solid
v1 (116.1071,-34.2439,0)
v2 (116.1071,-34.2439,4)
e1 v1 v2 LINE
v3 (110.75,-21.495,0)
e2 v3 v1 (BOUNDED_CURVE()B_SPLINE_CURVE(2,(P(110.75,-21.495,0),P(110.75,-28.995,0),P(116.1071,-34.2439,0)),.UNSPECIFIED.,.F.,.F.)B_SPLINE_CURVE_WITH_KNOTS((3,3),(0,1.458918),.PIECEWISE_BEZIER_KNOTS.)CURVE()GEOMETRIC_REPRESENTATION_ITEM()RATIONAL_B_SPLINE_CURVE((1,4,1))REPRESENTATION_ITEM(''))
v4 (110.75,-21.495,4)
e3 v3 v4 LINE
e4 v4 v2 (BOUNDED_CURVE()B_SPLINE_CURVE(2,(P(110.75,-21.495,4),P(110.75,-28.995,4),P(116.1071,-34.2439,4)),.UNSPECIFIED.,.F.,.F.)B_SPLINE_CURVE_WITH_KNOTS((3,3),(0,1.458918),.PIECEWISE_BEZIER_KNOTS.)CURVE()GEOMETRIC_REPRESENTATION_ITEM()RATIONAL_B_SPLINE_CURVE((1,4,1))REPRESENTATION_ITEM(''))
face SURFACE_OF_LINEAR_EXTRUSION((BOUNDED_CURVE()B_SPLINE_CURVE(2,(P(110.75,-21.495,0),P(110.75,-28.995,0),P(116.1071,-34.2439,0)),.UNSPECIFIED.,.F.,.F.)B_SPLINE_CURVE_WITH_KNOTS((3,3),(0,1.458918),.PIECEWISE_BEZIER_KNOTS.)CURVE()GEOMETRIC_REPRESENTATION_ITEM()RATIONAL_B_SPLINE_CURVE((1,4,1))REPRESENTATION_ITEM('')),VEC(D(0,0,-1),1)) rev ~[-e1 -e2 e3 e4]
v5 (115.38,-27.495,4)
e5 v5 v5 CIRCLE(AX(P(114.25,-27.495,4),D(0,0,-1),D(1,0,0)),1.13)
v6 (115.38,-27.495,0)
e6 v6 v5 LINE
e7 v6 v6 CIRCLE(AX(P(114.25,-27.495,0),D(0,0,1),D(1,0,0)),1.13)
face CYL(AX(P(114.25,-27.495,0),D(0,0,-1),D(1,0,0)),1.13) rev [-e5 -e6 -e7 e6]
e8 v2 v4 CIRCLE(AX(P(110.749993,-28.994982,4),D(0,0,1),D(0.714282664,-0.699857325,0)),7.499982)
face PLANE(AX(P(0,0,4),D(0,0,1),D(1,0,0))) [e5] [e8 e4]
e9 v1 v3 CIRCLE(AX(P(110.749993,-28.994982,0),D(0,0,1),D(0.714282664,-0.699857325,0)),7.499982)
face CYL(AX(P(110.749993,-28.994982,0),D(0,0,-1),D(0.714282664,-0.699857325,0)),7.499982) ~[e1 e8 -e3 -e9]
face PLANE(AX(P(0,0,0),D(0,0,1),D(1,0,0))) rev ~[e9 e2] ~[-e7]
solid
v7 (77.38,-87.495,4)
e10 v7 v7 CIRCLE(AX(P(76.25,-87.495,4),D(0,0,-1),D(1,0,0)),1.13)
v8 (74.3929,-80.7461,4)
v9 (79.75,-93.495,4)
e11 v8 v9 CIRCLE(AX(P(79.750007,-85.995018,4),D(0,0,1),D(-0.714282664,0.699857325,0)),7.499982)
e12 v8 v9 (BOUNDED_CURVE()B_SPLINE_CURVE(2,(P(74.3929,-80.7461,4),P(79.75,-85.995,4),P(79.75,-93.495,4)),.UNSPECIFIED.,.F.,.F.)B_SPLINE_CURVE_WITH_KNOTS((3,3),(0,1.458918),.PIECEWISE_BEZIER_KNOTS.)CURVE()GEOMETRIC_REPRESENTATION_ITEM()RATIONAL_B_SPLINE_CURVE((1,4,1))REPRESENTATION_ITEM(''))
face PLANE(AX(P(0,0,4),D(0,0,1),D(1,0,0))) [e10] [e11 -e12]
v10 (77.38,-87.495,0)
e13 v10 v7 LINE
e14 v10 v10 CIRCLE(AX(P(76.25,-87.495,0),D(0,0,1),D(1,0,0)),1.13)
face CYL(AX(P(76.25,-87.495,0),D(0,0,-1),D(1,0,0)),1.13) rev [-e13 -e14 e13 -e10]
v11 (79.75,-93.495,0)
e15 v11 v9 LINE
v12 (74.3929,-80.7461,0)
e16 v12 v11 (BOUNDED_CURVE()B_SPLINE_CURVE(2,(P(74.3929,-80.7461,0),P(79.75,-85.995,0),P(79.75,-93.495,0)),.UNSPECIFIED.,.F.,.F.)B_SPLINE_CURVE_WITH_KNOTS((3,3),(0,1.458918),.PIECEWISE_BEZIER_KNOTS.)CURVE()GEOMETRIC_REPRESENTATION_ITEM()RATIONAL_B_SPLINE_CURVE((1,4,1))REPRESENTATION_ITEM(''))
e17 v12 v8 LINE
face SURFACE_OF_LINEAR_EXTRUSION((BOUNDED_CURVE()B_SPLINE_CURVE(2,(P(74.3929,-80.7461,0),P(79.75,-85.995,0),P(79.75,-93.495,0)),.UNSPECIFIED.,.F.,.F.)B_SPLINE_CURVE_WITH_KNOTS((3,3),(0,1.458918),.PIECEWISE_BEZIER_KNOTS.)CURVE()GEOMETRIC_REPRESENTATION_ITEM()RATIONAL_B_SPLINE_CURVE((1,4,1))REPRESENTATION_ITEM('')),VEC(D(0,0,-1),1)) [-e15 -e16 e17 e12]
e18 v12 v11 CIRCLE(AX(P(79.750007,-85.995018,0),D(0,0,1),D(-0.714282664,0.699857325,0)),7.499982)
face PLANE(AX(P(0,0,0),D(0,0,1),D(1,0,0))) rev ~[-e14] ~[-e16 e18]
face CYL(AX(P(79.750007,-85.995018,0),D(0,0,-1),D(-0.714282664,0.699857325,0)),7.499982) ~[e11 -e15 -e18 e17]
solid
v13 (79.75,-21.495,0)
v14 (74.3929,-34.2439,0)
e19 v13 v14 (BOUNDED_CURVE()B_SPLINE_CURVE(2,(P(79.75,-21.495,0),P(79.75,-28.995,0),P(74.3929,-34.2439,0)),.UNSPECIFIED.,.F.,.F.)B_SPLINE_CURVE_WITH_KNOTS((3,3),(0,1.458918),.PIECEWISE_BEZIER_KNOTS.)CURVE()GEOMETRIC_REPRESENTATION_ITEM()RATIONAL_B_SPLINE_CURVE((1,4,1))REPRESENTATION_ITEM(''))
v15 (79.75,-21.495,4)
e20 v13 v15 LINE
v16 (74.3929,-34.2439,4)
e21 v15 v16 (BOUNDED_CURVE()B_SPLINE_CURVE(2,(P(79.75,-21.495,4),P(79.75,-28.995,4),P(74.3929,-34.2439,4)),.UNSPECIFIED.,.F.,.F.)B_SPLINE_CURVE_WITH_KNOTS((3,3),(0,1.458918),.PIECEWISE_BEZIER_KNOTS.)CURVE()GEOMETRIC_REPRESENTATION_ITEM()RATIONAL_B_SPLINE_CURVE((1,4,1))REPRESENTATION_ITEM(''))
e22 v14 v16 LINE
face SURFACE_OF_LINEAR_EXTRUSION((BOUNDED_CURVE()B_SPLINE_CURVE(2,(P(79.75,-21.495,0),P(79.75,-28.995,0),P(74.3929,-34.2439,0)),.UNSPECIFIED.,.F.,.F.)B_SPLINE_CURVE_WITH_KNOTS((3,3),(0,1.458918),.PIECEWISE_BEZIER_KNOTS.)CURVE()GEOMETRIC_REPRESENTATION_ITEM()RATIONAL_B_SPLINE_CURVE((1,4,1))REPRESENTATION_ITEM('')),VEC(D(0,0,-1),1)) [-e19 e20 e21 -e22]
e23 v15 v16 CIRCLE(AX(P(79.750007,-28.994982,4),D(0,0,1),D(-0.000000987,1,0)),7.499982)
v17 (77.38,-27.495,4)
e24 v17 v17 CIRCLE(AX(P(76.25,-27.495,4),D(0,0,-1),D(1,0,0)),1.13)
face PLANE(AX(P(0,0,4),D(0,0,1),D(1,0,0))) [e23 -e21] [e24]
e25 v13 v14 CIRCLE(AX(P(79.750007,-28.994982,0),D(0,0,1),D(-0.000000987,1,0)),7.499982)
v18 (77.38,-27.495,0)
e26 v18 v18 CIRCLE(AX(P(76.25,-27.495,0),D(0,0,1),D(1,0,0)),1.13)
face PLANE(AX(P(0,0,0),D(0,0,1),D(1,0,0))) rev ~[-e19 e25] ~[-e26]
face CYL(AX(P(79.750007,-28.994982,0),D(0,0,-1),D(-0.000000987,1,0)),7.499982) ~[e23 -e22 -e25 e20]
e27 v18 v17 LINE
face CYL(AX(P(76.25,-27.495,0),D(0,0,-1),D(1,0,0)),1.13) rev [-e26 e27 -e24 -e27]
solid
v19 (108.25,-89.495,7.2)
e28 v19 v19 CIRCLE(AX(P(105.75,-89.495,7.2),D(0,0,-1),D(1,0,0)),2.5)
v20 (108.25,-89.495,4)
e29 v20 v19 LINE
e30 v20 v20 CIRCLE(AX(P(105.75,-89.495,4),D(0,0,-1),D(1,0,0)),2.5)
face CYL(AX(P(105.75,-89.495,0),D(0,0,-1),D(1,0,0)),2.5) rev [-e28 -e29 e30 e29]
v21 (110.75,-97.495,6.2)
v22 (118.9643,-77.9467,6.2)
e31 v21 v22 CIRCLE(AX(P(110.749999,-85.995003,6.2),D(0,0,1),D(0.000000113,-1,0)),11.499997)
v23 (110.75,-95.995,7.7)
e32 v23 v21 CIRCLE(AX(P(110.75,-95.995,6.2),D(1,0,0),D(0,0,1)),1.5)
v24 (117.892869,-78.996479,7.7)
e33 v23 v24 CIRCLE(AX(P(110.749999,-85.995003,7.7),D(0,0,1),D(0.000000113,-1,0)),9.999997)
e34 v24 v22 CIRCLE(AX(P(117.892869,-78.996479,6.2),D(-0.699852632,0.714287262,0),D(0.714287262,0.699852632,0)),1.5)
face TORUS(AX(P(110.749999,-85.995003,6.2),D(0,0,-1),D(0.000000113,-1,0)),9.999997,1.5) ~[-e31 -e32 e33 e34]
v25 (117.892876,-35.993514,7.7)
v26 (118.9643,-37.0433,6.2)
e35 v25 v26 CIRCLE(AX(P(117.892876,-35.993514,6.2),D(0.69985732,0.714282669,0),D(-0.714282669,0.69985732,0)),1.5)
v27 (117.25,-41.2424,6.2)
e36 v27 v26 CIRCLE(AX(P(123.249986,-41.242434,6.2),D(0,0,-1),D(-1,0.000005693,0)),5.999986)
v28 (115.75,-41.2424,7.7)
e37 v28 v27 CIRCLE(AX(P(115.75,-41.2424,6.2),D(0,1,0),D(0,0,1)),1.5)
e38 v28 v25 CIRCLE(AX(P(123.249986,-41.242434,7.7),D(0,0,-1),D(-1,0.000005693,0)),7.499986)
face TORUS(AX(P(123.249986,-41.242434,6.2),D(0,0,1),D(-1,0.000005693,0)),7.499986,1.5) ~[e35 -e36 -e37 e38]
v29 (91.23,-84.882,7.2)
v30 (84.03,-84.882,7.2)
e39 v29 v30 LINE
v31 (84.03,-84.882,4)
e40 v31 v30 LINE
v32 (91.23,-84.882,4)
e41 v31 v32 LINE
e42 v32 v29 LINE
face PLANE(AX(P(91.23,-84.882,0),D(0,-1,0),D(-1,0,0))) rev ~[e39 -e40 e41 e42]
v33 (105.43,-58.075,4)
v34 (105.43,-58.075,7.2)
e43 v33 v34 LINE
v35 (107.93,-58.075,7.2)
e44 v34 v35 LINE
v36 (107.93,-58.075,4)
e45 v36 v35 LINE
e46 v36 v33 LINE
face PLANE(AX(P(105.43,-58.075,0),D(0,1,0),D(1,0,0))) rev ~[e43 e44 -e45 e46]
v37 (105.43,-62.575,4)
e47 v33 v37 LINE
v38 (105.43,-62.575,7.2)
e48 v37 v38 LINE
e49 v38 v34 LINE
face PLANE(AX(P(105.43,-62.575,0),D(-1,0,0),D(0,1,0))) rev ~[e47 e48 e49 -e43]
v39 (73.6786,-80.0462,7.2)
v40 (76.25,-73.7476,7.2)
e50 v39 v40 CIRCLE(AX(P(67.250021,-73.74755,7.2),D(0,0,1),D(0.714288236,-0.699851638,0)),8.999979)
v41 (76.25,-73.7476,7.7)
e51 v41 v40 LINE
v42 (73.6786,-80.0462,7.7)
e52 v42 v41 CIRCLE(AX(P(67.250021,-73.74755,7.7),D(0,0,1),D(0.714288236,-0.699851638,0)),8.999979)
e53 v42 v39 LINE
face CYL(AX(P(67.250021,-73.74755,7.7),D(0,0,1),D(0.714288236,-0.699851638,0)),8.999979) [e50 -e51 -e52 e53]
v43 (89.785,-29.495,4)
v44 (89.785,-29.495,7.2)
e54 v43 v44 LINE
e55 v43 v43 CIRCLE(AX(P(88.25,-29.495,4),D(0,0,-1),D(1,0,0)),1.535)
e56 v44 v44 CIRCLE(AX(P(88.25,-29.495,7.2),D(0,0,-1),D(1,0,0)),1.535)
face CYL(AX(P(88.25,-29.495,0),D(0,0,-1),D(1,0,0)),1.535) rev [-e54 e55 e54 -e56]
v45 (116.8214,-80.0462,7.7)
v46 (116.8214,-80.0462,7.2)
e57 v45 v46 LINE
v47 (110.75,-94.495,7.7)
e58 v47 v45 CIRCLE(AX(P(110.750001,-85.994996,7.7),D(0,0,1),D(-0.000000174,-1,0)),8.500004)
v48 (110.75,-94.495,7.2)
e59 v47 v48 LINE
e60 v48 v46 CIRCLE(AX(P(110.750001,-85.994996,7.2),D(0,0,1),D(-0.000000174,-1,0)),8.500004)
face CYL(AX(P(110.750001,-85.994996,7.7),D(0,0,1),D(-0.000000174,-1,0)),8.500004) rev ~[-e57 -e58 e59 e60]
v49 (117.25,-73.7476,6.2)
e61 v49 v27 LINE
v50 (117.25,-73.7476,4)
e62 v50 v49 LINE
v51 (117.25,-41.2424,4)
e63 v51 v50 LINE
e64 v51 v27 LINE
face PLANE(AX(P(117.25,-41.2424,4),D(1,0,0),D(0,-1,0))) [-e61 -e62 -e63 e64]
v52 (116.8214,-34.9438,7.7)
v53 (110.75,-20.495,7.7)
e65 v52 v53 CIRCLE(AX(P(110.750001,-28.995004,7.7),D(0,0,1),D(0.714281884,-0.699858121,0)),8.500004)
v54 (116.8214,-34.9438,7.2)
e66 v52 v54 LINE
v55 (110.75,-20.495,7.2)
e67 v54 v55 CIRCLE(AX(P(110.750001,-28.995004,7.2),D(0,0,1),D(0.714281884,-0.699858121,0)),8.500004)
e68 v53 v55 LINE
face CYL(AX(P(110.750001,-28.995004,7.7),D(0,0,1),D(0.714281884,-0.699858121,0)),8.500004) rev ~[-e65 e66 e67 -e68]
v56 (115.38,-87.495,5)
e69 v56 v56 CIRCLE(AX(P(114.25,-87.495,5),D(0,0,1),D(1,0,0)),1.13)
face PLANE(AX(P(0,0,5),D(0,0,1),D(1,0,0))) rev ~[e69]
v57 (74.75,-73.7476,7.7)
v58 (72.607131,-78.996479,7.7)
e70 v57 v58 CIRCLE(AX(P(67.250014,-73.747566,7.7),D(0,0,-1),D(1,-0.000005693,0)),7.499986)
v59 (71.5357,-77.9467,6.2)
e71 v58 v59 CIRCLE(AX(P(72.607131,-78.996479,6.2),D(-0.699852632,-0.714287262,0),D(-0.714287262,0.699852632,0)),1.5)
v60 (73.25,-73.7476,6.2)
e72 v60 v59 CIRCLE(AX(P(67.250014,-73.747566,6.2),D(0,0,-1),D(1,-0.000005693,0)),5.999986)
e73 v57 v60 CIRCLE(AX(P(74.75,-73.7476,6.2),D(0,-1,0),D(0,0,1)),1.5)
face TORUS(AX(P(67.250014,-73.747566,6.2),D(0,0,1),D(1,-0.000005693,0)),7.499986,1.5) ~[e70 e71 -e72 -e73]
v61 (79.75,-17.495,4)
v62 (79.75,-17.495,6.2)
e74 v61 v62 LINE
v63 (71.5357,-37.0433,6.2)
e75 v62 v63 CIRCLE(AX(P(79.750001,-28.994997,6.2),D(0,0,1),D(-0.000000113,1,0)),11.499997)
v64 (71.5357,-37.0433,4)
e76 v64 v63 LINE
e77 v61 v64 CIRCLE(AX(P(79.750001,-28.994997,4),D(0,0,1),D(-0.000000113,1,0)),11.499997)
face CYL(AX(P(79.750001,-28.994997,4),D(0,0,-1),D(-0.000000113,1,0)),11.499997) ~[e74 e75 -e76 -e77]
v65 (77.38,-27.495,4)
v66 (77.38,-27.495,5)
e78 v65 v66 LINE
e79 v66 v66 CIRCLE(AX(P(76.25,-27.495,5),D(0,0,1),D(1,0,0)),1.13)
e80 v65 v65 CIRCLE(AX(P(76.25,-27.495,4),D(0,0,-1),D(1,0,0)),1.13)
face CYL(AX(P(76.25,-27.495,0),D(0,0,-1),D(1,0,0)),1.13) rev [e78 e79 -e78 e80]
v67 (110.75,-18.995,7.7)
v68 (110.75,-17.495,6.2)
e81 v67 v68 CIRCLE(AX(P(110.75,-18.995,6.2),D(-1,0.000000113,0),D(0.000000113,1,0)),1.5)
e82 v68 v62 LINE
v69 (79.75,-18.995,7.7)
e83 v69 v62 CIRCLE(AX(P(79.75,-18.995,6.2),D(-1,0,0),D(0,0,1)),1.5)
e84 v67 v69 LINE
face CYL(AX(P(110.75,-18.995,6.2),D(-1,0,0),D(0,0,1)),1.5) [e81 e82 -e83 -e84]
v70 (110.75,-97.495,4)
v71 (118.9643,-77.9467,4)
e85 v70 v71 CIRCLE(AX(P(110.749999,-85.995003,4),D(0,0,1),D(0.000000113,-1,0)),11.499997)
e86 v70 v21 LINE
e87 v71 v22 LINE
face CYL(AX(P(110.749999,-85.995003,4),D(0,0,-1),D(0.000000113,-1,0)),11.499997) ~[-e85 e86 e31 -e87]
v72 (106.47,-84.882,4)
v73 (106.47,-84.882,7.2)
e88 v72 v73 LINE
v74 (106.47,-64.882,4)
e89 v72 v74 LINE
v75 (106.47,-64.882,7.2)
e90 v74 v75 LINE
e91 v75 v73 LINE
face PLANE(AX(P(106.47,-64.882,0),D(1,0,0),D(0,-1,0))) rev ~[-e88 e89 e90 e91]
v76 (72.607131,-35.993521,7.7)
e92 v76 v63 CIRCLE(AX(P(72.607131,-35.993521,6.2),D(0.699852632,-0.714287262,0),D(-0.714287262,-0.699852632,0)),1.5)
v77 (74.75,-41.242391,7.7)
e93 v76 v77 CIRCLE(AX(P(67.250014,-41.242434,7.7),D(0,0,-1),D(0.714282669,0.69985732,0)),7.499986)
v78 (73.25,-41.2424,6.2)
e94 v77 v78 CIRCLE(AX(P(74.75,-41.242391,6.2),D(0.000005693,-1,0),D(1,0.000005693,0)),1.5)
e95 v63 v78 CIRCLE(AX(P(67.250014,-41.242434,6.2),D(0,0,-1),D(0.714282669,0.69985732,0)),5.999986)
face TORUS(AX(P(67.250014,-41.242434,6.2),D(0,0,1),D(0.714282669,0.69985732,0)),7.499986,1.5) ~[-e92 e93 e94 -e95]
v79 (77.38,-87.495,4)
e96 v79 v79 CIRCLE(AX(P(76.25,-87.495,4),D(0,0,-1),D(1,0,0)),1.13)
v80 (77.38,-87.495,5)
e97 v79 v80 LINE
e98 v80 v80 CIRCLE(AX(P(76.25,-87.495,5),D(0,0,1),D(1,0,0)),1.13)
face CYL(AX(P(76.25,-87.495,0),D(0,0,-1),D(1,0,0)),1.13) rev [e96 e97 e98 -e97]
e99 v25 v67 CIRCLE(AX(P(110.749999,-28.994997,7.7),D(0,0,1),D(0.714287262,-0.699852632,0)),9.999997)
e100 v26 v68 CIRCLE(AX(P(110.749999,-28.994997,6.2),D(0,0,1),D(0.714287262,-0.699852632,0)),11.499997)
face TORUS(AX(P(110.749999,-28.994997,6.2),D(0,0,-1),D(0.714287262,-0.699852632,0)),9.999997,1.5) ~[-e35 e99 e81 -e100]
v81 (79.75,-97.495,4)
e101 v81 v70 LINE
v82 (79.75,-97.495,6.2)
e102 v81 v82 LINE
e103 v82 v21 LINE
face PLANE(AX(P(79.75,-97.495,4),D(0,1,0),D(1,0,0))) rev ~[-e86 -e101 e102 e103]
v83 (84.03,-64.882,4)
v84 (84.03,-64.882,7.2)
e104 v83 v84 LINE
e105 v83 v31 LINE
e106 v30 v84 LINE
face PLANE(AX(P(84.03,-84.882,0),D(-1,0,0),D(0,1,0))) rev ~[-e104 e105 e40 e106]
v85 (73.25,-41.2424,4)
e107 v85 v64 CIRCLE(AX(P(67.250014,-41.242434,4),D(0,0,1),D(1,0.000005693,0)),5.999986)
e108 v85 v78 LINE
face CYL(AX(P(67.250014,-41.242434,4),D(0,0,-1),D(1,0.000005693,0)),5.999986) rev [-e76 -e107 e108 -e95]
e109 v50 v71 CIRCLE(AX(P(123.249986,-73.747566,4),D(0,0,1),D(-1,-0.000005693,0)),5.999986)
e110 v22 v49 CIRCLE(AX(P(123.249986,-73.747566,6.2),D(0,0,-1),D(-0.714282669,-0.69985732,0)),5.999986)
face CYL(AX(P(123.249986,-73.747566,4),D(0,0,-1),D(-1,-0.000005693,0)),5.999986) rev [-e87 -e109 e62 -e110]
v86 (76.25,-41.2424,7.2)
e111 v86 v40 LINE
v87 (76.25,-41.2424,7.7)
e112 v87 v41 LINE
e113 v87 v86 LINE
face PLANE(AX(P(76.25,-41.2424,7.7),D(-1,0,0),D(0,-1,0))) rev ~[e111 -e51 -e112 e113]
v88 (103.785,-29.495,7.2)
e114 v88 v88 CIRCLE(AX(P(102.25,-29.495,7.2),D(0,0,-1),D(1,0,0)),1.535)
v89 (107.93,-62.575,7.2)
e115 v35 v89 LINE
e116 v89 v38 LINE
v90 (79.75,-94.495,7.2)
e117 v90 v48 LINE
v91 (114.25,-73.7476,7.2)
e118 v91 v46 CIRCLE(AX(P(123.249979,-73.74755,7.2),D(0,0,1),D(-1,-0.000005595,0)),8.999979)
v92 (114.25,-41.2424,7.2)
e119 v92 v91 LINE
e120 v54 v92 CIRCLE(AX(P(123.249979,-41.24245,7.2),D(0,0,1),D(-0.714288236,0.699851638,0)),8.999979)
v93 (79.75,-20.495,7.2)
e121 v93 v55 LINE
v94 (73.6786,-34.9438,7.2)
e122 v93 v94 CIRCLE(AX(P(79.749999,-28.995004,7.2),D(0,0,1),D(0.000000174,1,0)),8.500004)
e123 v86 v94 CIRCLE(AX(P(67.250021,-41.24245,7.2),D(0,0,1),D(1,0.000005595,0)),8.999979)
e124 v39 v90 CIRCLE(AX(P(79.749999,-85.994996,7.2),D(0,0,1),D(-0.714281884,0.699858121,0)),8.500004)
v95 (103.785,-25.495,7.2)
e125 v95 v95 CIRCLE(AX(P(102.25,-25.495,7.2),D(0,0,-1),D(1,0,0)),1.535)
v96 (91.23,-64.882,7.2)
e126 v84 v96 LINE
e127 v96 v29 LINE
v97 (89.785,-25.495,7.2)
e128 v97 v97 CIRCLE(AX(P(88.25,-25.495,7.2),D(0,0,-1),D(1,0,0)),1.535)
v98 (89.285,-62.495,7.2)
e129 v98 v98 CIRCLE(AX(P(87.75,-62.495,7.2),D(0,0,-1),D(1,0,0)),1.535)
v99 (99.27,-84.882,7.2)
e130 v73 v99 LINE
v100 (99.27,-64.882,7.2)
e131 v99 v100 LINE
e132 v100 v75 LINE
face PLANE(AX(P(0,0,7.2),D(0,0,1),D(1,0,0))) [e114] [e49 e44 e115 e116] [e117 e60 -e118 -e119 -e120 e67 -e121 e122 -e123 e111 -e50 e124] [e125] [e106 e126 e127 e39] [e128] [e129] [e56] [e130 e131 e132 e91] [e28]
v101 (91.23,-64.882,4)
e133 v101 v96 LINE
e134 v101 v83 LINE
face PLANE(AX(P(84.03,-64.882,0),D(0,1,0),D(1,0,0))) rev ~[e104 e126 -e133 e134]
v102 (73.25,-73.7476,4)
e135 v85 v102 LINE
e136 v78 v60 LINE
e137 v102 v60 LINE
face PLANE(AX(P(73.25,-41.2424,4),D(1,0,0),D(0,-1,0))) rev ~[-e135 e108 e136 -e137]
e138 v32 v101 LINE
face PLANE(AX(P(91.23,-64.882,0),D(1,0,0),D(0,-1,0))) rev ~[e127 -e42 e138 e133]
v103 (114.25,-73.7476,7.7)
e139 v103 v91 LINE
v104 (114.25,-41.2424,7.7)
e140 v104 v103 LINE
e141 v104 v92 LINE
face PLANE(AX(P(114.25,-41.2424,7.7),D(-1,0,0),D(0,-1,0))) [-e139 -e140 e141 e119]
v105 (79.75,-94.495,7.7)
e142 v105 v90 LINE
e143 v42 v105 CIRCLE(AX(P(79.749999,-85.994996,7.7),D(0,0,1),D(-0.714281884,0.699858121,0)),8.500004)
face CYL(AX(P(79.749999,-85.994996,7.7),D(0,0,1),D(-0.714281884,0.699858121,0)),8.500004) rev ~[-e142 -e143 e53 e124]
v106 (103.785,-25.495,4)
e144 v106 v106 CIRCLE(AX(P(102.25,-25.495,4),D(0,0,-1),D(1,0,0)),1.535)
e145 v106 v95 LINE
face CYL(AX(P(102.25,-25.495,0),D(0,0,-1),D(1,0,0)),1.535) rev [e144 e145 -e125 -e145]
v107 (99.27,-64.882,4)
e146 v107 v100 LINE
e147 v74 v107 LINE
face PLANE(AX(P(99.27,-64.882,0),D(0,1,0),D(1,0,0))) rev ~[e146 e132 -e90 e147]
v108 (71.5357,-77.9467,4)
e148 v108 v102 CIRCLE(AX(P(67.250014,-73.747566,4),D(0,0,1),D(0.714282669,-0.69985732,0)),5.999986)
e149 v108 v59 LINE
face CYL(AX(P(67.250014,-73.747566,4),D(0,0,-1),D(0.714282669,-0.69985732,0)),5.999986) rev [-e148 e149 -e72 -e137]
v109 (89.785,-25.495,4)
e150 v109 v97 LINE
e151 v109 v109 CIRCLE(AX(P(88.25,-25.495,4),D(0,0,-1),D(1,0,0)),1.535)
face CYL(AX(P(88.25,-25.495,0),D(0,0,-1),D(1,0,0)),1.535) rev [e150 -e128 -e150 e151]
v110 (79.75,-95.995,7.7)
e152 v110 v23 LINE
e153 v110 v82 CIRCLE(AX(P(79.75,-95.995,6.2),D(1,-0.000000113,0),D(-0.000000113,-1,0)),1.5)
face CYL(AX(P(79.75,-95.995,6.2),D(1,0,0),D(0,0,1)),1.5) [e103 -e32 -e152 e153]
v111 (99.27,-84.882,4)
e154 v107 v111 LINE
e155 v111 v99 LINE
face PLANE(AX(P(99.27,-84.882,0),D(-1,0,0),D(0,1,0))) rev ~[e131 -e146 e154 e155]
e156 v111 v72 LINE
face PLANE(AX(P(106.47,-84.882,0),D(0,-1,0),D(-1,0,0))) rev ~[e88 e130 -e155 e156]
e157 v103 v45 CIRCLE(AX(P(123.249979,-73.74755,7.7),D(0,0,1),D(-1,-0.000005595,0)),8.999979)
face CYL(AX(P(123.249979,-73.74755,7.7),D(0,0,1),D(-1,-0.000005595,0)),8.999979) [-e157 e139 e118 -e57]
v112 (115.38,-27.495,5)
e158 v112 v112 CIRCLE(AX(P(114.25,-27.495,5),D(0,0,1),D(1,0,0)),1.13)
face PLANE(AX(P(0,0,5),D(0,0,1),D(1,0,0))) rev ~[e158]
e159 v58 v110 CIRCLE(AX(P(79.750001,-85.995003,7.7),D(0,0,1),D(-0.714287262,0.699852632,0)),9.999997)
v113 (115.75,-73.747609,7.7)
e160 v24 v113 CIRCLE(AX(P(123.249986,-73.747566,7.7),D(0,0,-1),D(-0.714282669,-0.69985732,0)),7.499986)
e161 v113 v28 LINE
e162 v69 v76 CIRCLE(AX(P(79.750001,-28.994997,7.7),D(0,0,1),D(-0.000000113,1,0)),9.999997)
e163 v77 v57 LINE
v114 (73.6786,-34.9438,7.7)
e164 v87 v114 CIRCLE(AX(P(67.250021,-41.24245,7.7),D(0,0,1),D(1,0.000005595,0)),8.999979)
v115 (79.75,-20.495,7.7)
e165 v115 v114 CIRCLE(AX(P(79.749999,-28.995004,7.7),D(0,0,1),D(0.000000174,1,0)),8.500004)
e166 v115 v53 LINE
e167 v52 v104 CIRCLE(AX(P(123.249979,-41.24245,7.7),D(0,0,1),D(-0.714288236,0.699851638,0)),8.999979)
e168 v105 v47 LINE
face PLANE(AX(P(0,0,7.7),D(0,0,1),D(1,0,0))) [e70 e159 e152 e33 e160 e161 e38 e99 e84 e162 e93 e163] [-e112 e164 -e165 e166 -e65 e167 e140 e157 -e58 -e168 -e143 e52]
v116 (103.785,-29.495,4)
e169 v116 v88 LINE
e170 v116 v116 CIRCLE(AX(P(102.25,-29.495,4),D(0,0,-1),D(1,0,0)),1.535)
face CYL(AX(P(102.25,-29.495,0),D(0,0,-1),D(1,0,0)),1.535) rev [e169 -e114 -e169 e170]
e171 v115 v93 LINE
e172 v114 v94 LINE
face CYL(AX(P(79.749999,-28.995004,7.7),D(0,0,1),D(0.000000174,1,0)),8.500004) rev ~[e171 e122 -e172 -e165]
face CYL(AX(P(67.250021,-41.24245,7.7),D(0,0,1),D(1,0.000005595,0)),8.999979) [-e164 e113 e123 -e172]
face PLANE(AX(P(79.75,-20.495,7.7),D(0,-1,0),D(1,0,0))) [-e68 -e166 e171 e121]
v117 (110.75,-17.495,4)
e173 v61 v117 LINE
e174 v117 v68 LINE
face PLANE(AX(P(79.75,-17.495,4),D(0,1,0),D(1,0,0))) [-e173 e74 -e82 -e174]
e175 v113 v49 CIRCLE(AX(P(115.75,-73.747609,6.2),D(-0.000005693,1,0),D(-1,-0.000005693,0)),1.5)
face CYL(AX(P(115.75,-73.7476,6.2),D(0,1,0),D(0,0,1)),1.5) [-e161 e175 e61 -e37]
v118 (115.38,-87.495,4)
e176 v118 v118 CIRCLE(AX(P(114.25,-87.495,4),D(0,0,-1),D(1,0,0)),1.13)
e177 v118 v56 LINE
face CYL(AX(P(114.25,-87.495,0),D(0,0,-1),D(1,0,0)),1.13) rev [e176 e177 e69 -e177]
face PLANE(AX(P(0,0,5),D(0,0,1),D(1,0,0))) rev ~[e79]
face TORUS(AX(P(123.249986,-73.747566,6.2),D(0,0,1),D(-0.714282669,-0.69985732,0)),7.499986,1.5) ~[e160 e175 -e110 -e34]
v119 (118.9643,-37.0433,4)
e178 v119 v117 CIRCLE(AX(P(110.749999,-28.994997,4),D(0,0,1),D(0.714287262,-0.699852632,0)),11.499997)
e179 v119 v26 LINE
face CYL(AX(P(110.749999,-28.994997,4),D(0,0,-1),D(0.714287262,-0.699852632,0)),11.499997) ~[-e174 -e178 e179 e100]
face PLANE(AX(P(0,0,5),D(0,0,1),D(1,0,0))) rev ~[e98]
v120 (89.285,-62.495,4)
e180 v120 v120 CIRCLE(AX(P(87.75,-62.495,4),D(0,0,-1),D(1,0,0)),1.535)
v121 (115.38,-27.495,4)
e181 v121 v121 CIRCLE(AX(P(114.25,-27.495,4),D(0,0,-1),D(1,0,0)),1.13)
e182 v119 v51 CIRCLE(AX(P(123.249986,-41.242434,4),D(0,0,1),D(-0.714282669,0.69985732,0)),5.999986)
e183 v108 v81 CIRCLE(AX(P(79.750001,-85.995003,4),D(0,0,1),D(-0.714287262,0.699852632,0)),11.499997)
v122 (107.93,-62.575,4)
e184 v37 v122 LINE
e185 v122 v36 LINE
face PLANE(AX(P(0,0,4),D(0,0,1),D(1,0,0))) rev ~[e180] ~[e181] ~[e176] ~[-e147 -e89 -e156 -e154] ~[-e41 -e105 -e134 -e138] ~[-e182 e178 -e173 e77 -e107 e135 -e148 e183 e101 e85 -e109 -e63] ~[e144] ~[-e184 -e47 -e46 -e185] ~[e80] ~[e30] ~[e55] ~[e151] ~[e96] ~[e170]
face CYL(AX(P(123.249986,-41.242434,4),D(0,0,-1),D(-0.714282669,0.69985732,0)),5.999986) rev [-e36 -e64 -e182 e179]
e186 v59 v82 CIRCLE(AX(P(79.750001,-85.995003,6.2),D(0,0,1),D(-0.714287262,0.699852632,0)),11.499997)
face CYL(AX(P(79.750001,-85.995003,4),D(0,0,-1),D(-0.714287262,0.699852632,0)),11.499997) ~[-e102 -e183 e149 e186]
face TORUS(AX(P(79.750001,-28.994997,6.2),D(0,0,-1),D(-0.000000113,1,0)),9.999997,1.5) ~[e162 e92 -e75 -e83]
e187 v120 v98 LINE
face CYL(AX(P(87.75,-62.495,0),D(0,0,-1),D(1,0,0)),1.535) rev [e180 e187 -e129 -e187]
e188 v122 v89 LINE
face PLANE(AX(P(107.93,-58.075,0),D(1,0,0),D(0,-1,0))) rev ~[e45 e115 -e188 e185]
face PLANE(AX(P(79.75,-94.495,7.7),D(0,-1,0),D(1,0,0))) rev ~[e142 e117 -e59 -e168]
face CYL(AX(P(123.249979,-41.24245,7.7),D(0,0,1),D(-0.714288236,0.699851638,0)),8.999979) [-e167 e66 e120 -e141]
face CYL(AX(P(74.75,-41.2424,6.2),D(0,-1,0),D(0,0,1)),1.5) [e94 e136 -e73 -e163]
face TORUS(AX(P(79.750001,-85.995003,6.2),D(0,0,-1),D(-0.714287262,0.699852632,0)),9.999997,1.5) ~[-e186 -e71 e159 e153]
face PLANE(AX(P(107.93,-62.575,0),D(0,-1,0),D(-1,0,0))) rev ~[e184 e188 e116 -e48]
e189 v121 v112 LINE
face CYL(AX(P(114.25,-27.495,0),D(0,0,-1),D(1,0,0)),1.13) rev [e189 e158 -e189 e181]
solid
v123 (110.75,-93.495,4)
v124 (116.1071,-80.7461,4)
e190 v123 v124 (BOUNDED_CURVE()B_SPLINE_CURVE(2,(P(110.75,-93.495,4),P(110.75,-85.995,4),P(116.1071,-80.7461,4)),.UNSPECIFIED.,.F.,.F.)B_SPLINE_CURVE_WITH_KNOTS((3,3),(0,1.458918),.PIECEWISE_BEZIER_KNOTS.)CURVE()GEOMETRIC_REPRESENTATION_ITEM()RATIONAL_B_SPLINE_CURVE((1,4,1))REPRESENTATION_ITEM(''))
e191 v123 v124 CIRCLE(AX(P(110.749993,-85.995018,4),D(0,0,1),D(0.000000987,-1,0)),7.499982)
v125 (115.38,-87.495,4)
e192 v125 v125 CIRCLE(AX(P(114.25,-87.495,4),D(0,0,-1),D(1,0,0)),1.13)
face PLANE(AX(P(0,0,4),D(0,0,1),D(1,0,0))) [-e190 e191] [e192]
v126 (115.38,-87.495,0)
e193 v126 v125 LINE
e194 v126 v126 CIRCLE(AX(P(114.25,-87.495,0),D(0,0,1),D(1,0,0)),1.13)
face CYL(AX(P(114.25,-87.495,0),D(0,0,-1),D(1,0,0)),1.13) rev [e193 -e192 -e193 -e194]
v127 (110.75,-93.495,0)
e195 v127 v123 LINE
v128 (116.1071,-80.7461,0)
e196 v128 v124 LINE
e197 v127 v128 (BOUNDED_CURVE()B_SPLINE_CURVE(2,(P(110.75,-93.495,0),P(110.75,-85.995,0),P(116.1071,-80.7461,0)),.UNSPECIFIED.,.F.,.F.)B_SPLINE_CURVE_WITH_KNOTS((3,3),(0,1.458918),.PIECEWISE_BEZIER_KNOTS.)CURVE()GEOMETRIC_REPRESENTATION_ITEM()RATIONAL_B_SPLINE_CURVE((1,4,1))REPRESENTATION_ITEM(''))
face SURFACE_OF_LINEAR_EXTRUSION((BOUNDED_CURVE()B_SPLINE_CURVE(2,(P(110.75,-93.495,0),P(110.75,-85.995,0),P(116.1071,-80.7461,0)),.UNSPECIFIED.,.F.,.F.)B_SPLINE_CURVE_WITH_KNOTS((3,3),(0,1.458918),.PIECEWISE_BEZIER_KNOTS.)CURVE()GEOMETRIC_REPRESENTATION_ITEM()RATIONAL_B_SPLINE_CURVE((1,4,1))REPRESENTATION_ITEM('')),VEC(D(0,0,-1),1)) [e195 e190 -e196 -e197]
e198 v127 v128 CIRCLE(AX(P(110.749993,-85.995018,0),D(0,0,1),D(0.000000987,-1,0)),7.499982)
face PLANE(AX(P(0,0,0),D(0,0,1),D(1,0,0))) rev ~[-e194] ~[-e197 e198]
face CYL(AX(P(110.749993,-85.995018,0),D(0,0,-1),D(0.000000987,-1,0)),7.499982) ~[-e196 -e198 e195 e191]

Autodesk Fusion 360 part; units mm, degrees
sketch "drawing" plane through (0, 0, 0) normal (0, 0, 1) x (1, 0, 0)
  circle A0 centre (76.25, -27.495) radius 1.5
  circle A1 centre (114.25, -27.495) radius 1.5
  circle A2 centre (76.25, -87.495) radius 1.5
  circle A3 centre (114.25, -87.495) radius 1.5
  line L0 (79.75, -93.495) -> (110.75, -93.495)
  line L1 (77.25, -41.2424) -> (77.25, -73.7476)
  line L2 (113.25, -41.2424) -> (113.25, -73.7476)
  arc A4 (79.75, -21.495) -> (74.3929, -34.2439) centre (79.75, -28.995) ccw
  arc A5 (116.1071, -34.2439) -> (110.75, -21.495) centre (110.75, -28.995) ccw
  arc A6 (74.3929, -80.7461) -> (79.75, -93.495) centre (79.75, -85.995) ccw
  arc A7 (110.75, -93.495) -> (116.1071, -80.7461) centre (110.75, -85.995) ccw
  circle A8 centre (76.25, -27.495) radius 3
  circle A9 centre (114.25, -27.495) radius 3
  circle A10 centre (76.25, -87.495) radius 3
  circle A11 centre (114.25, -87.495) radius 3
  line L3 (72.25, -21.495) -> (72.25, -93.495) construction
  line L4 (118.25, -21.495) -> (118.25, -93.495) construction
  circle A12 centre (88.25, -25.495) radius 1.535
  circle A13 centre (88.25, -29.495) radius 1.535
  circle A14 centre (83.25, -26.495) radius 1.5
  circle A15 centre (83.25, -34.995) radius 1.5
  line L5 (95.25, -21.495) -> (95.25, -93.495) construction
  circle A16 centre (106.68, -60.325) radius 0.25 construction
  line L6 (104.93, -55.8) -> (108.43, -55.8) construction
  line L7 (108.43, -55.8) -> (108.43, -64.85) construction
  line L8 (108.43, -64.85) -> (104.93, -64.85) construction
  line L9 (104.93, -64.85) -> (104.93, -55.8) construction
  arc A17 (77.25, -41.2424) -> (74.3929, -34.2439) centre (67.25, -41.2424) ccw
  line L10 (79.75, -28.995) -> (79.75, -21.495) construction
  line L11 (79.75, -28.995) -> (74.3929, -34.2439) construction
  line L12 (67.25, -41.2424) -> (77.25, -41.2424) construction
  line L13 (67.25, -41.2424) -> (74.3929, -34.2439) construction
  arc A18 (116.1071, -34.2439) -> (113.25, -41.2424) centre (123.25, -41.2424) ccw
  arc A19 (74.3929, -80.7461) -> (77.25, -73.7476) centre (67.25, -73.7476) ccw
  arc A20 (113.25, -73.7476) -> (116.1071, -80.7461) centre (123.25, -73.7476) ccw
  circle A21 centre (102.25, -25.495) radius 1.535
  circle A22 centre (102.25, -29.495) radius 1.535
  circle A23 centre (87.75, -62.495) radius 1.535
  line L14 (105.43, -58.075) -> (107.93, -58.075)
  line L15 (107.93, -58.075) -> (107.93, -62.575)
  line L16 (107.93, -62.575) -> (105.43, -62.575)
  line L17 (105.43, -62.575) -> (105.43, -58.075)
  line L18 (105.93, -60.575) -> (107.43, -60.575) construction
  line L19 (107.43, -60.575) -> (107.43, -62.075) construction
  line L20 (107.43, -62.075) -> (105.93, -62.075) construction
  line L21 (105.93, -62.075) -> (105.93, -60.575) construction
  line L22 (105.93, -58.575) -> (107.43, -58.575) construction
  line L23 (107.43, -58.575) -> (107.43, -60.075) construction
  line L24 (107.43, -60.075) -> (105.93, -60.075) construction
  line L25 (105.93, -60.075) -> (105.93, -58.575) construction
  line L26 (106.68, -60.075) -> (106.68, -60.575) construction
  line L27 (81, -24.245) -> (85.5, -24.245) construction
  line L28 (85.5, -24.245) -> (85.5, -28.745) construction
  line L29 (85.5, -28.745) -> (81, -28.745) construction
  line L30 (81, -28.745) -> (81, -24.245) construction
  circle A24 centre (88.25, -25.495) radius 1.9 construction
  circle A25 centre (88.25, -29.495) radius 1.9 construction
  circle A26 centre (102.25, -25.495) radius 1.9 construction
  circle A27 centre (102.25, -29.495) radius 1.9 construction
  circle A28 centre (87.75, -62.495) radius 1.9 construction
  line L31 (81, -32.745) -> (85.5, -32.745) construction
  line L32 (85.5, -32.745) -> (85.5, -37.245) construction
  line L33 (85.5, -37.245) -> (81, -37.245) construction
  line L34 (81, -37.245) -> (81, -32.745) construction
  circle A29 centre (107.25, -26.495) radius 1.5
  line L35 (105, -24.245) -> (109.5, -24.245) construction
  line L36 (109.5, -24.245) -> (109.5, -28.745) construction
  line L37 (109.5, -28.745) -> (105, -28.745) construction
  line L38 (105, -28.745) -> (105, -24.245) construction
  circle A30 centre (105.75, -89.495) radius 1.5
  line L39 (103.5, -87.245) -> (108, -87.245) construction
  line L40 (108, -87.245) -> (108, -91.745) construction
  line L41 (108, -91.745) -> (103.5, -91.745) construction
  line L42 (103.5, -91.745) -> (103.5, -87.245) construction
  line L43 (85.03, -65.882) -> (90.23, -65.882) construction
  line L44 (90.23, -65.882) -> (90.23, -83.882) construction
  line L45 (90.23, -83.882) -> (85.03, -83.882) construction
  line L46 (85.03, -83.882) -> (85.03, -65.882) construction
  line L47 (100.27, -65.882) -> (105.47, -65.882) construction
  line L48 (105.47, -65.882) -> (105.47, -83.882) construction
  line L49 (105.47, -83.882) -> (100.27, -83.882) construction
  line L50 (100.27, -83.882) -> (100.27, -65.882) construction
  line L51 (91.23, -64.882) -> (91.23, -84.882)
  line L52 (91.23, -84.882) -> (84.03, -84.882)
  line L53 (84.03, -84.882) -> (84.03, -64.882)
  line L54 (84.03, -64.882) -> (91.23, -64.882)
  line L55 (106.47, -84.882) -> (99.27, -84.882)
  line L56 (99.27, -84.882) -> (99.27, -64.882)
  line L57 (99.27, -64.882) -> (106.47, -64.882)
  line L58 (106.47, -64.882) -> (106.47, -84.882)
  line L59 (89.25, -21.495) -> (89.25, -18.495)
  line L60 (101.25, -21.495) -> (101.25, -18.495)
  line L61 (90.25, -17.495) -> (100.25, -17.495)
  line L62 (79.75, -21.495) -> (89.25, -21.495)
  line L63 (101.25, -21.495) -> (110.75, -21.495)
  line L64 (89.25, -21.495) -> (101.25, -21.495) construction
  line L65 (110.75, -21.495) -> (110.75, -28.995) construction
  arc A31 (90.25, -17.495) -> (89.25, -18.495) centre (90.25, -18.495) ccw
  arc A32 (101.25, -18.495) -> (100.25, -17.495) centre (100.25, -18.495) ccw
  line L66 (98.975, -19.674) -> (98.975, -20.274) construction
  arc A33 (98.975, -20.274) -> (100.175, -20.274) centre (99.575, -20.274) ccw construction
  line L67 (100.175, -20.274) -> (100.175, -19.674) construction
  arc A34 (100.175, -19.674) -> (98.975, -19.674) centre (99.575, -19.674) ccw construction
  line L68 (99.575, -19.674) -> (99.575, -20.274) construction
  line L69 (99.575, -19.074) -> (99.575, -20.874) construction
  line L70 (99.975, -20.274) -> (99.975, -19.674)
  arc A35 (99.975, -19.674) -> (99.175, -19.674) centre (99.575, -19.674) ccw
  line L71 (99.175, -19.674) -> (99.175, -20.274)
  arc A36 (99.175, -20.274) -> (99.975, -20.274) centre (99.575, -20.274) ccw
  line L72 (99.575, -20.274) -> (99.575, -19.674) construction
  line L73 (91.525, -20.274) -> (91.525, -19.674) construction
  arc A37 (91.525, -19.674) -> (90.325, -19.674) centre (90.925, -19.674) ccw construction
  line L74 (90.325, -19.674) -> (90.325, -20.274) construction
  arc A38 (90.325, -20.274) -> (91.525, -20.274) centre (90.925, -20.274) ccw construction
  line L75 (90.925, -20.274) -> (90.925, -19.674) construction
  line L76 (91.325, -20.274) -> (91.325, -19.674)
  arc A39 (91.325, -19.674) -> (90.525, -19.674) centre (90.925, -19.674) ccw
  line L77 (90.525, -19.674) -> (90.525, -20.274)
  arc A40 (90.525, -20.274) -> (91.325, -20.274) centre (90.925, -20.274) ccw
  line L78 (90.925, -20.274) -> (90.925, -19.674) construction
  line L79 (90.925, -19.074) -> (90.925, -20.874) construction
  line L80 (90.925, -19.274) -> (99.575, -19.274) construction
  line L81 (90.925, -20.674) -> (99.575, -20.674) construction
  line L82 (90.925, -19.074) -> (99.575, -19.074) construction
  line L83 (90.925, -20.874) -> (99.575, -20.874) construction
  line L84 (99.975, -24.574) -> (99.975, -23.774)
  arc A41 (99.975, -23.774) -> (99.175, -23.774) centre (99.575, -23.774) ccw
  line L85 (99.175, -23.774) -> (99.175, -24.574)
  arc A42 (99.175, -24.574) -> (99.975, -24.574) centre (99.575, -24.574) ccw
  line L86 (99.575, -24.574) -> (99.575, -23.774) construction
  line L87 (99.575, -23.374) -> (99.575, -24.974) construction
  line L88 (91.325, -24.574) -> (91.325, -23.774)
  arc A43 (91.325, -23.774) -> (90.525, -23.774) centre (90.925, -23.774) ccw
  line L89 (90.525, -23.774) -> (90.525, -24.574)
  arc A44 (90.525, -24.574) -> (91.325, -24.574) centre (90.925, -24.574) ccw
  line L90 (90.925, -24.574) -> (90.925, -23.774) construction
  line L91 (90.925, -23.374) -> (90.925, -24.974) construction
  line L92 (90.925, -19.974) -> (90.925, -24.174) construction
  line L93 (99.575, -19.974) -> (99.575, -24.174) construction
  line L94 (91.525, -24.574) -> (91.525, -23.774) construction
  arc A45 (91.525, -23.774) -> (90.325, -23.774) centre (90.925, -23.774) ccw construction
  line L95 (90.325, -23.774) -> (90.325, -24.574) construction
  arc A46 (90.325, -24.574) -> (91.525, -24.574) centre (90.925, -24.574) ccw construction
  line L96 (90.925, -24.574) -> (90.925, -23.774) construction
  line L97 (100.175, -24.574) -> (100.175, -23.774) construction
  arc A47 (100.175, -23.774) -> (98.975, -23.774) centre (99.575, -23.774) ccw construction
  line L98 (98.975, -23.774) -> (98.975, -24.574) construction
  arc A48 (98.975, -24.574) -> (100.175, -24.574) centre (99.575, -24.574) ccw construction
  line L99 (99.575, -24.574) -> (99.575, -23.774) construction
  line L100 (90.925, -23.174) -> (99.575, -23.174) construction
  line L101 (90.925, -25.174) -> (99.575, -25.174) construction
  line L102 (90.925, -23.374) -> (99.575, -23.374) construction
  line L103 (90.925, -24.974) -> (99.575, -24.974) construction
  line L104 (90.75, -17.495) -> (99.75, -17.495)
  line L105 (99.75, -17.495) -> (99.75, -24.845)
  line L106 (99.75, -24.845) -> (90.75, -24.845)
  line L107 (90.75, -24.845) -> (90.75, -17.495)
  point P0 (87.63, -74.882)
  point P1 (102.87, -74.882)
  point P2 (99.575, -19.974)
  point P3 (99.575, -19.974)
  point P4 (90.925, -19.974)
  point P5 (90.925, -19.974)
  point P6 (99.575, -24.174)
  point P7 (90.925, -24.174)
  point P8 (90.925, -24.174)
  point P9 (99.575, -24.174)
  dimension "d1" = 76.25
  dimension "d2" = 3
  dimension "d3" = 27.495
  dimension "d4" = 3
  dimension "d5" = 38
  dimension "d6" = 27.495
  dimension "d7" = 1.5
  dimension "d8" = 3.5
  dimension "d9" = 15
  dimension "d10" = 3.5
  dimension "d11" = 1.5
  dimension "d12" = 15
  dimension "d13" = 60
  dimension "d14" = 3
  dimension "d15" = 76.25
  dimension "d16" = 38
  dimension "d17" = 60
  dimension "d18" = 3
  dimension "d19" = 3.5
  dimension "d20" = 1.5
  dimension "d21" = 3.5
  dimension "d22" = 1.5
  dimension "d23" = 15
  dimension "d24" = 15
  dimension "d31" = 6
  dimension "d32" = 6
  dimension "d33" = 6
  dimension "d34" = 6
  dimension "d35" = 72
  dimension "d36" = 46
  dimension "d37" = 6
  dimension "d38" = 5
  dimension "d39" = 5
  dimension "d40" = 4
  dimension "d41" = 4
  dimension "d42" = 12
  dimension "d43" = 2
  dimension "d44" = 3.07
  dimension "d45" = 4
  dimension "d46" = 3.07
  dimension "d47" = 7
  dimension "d48" = 1
  dimension "d49" = 3
  dimension "d50" = 3
  dimension "d51" = 8.5
  dimension "d52" = 19
  dimension "d56" = 106.68
  dimension "d57" = 60.325
  dimension "d58" = 0.5
  dimension "d59" = 4.525
  dimension "d62" = 1.75
  dimension "d75" = 20
  dimension "d76" = 134.415
  dimension "d77" = 44.415
  dimension "d78" = 20
  dimension "d79" = 20
  dimension "d80" = 20
  dimension "d92" = 3.07
  dimension "d93" = 3.07
  dimension "d94" = 14
  dimension "d95" = 3.07
  dimension "d96" = 33
  dimension "d97" = 0.5
  dimension "d98" = 1.25
  dimension "d100" = 1.5
  dimension "d101" = 0.75
  dimension "d102" = 1.5
  dimension "d103" = 0.75
  dimension "d104" = 3.5
  dimension "d105" = 0.5
  dimension "d106" = 1.5
  dimension "d107" = 3.5
  dimension "d108" = 9.05
  dimension "d109" = 2.25
  dimension "d110" = 2.25
  dimension "d111" = 2.5
  dimension "d112" = 0.5
  dimension "d113" = 0.5
  dimension "d114" = 2.25
  dimension "d115" = 4.5
  dimension "d116" = 4.5
  dimension "d117" = 2.25
  dimension "d118" = 3.8
  dimension "d119" = 3.8
  dimension "d120" = 3.8
  dimension "d121" = 3.8
  dimension "d122" = 3.8
  dimension "d123" = 4.5
  dimension "d124" = 4.5
  dimension "d125" = 2.25
  dimension "d126" = 2.25
  dimension "d127" = 5
  dimension "d128" = 3
  dimension "d129" = 2.25
  dimension "d130" = 2.25
  dimension "d131" = 4.5
  dimension "d132" = 4.5
  dimension "d133" = 105.75
  dimension "d134" = 89.495
  dimension "d135" = 3
  dimension "d136" = 4.5
  dimension "d137" = 4.5
  dimension "d138" = 2.25
  dimension "d139" = 2.25
  dimension "d140" = 4
  dimension "d141" = 12.5
  dimension "d142" = 18
  dimension "d143" = 18
  dimension "d144" = 5.2
  dimension "d145" = 5.2
  dimension "d146" = 102.87
  dimension "d147" = 87.63
  dimension "d148" = 74.882
  dimension "d149" = 2.6
  dimension "d150" = 2.6
  dimension "d151" = 9
  dimension "d152" = 9
  dimension "d153" = -1
  dimension "d154" = -1
  dimension "d200" = 18
  dimension "d201" = 18
  dimension "d202" = 12
  dimension "d203" = 6
  dimension "d204" = 4
  dimension "d205" = 1
  dimension "d206" = 1
  dimension "d207" = 1.675
  dimension "d208" = 2.479
  dimension "d209" = 1.2
  dimension "d210" = 1.8
  dimension "d211" = 0.8
  dimension "d212" = 1.2
  dimension "d213" = 2.479
  dimension "d214" = 1.675
  dimension "d215" = 0.4
  dimension "d216" = 0.8
  dimension "d217" = 1.8
  dimension "d218" = 1.2
  dimension "d219" = 1.2
  dimension "d220" = 1.579
  dimension "d226" = 1.8
  dimension "d227" = 1.4
  dimension "d236" = 1.6
  dimension "d237" = 0.8
  dimension "d238" = 1.6
  dimension "d239" = 0.8
  dimension "d240" = 4.2
  dimension "d241" = 4.2
  dimension "d242" = 1.2
  dimension "d243" = 1.2
  dimension "d245" = 1.6
  dimension "d246" = 2
  dimension "d247" = 4.5
  dimension "d248" = 4.5
  dimension "d249" = 7.35
sketch "board_cutout" plane through (0, 0, 0) normal (0, 0, 1) x (1, 0, 0)
  circle A0 centre (76.25, -27.495) radius 1.5
  circle A1 centre (114.25, -27.495) radius 1.5
  circle A2 centre (76.25, -87.495) radius 1.5
  circle A3 centre (114.25, -87.495) radius 1.5
  arc A4 (79.75, -21.495) -> (74.3929, -34.2439) centre (79.75, -28.995) ccw
  arc A5 (77.25, -41.2424) -> (74.3929, -34.2439) centre (67.25, -41.2424) ccw
  line L0 (77.25, -41.2424) -> (77.25, -73.7476)
  arc A6 (74.3929, -80.7461) -> (77.25, -73.7476) centre (67.25, -73.7476) ccw
  arc A7 (74.3929, -80.7461) -> (79.75, -93.495) centre (79.75, -85.995) ccw
  line L1 (79.75, -93.495) -> (110.75, -93.495)
  arc A8 (110.75, -93.495) -> (116.1071, -80.7461) centre (110.75, -85.995) ccw
  arc A9 (113.25, -73.7476) -> (116.1071, -80.7461) centre (123.25, -73.7476) ccw
  line L2 (113.25, -41.2424) -> (113.25, -73.7476)
  arc A10 (116.1071, -34.2439) -> (113.25, -41.2424) centre (123.25, -41.2424) ccw
  arc A11 (116.1071, -34.2439) -> (110.75, -21.495) centre (110.75, -28.995) ccw
  line L3 (79.75, -21.495) -> (89.25, -21.495)
sketch "board_cutout_4mm_offset" plane through (0, 0, 0) normal (0, 0, 1) x (1, 0, 0)
  arc A0 (79.75, -21.495) -> (74.3929, -34.2439) centre (79.75, -28.995) ccw construction
  arc A1 (77.25, -41.2424) -> (74.3929, -34.2439) centre (67.25, -41.2424) ccw construction
  line L0 (77.25, -41.2424) -> (77.25, -73.7476) construction
  arc A2 (74.3929, -80.7461) -> (77.25, -73.7476) centre (67.25, -73.7476) ccw construction
  arc A3 (74.3929, -80.7461) -> (79.75, -93.495) centre (79.75, -85.995) ccw construction
  line L1 (79.75, -93.495) -> (110.75, -93.495) construction
  arc A4 (110.75, -93.495) -> (116.1071, -80.7461) centre (110.75, -85.995) ccw construction
  arc A5 (113.25, -73.7476) -> (116.1071, -80.7461) centre (123.25, -73.7476) ccw construction
  line L2 (113.25, -41.2424) -> (113.25, -73.7476) construction
  arc A6 (116.1071, -34.2439) -> (113.25, -41.2424) centre (123.25, -41.2424) ccw construction
  arc A7 (116.1071, -34.2439) -> (110.75, -21.495) centre (110.75, -28.995) ccw construction
  arc A8 (117.25, -73.7476) -> (118.9643, -77.9467) centre (123.25, -73.7476) ccw
  arc A9 (110.75, -97.495) -> (118.9643, -77.9467) centre (110.75, -85.995) ccw
  line L3 (79.75, -97.495) -> (110.75, -97.495)
  arc A10 (71.5357, -77.9467) -> (79.75, -97.495) centre (79.75, -85.995) ccw
  arc A11 (71.5357, -77.9467) -> (73.25, -73.7476) centre (67.25, -73.7476) ccw
  line L4 (73.25, -41.2424) -> (73.25, -73.7476)
  arc A12 (73.25, -41.2424) -> (71.5357, -37.0433) centre (67.25, -41.2424) ccw
  arc A13 (79.75, -17.495) -> (71.5357, -37.0433) centre (79.75, -28.995) ccw
  line L5 (79.75, -17.495) -> (110.75, -17.495)
  arc A14 (118.9643, -37.0433) -> (110.75, -17.495) centre (110.75, -28.995) ccw
  arc A15 (118.9643, -37.0433) -> (117.25, -41.2424) centre (123.25, -41.2424) ccw
  line L6 (117.25, -41.2424) -> (117.25, -73.7476)
  line L7 (79.75, -21.495) -> (89.25, -21.495)
  dimension "d183" = 80
sketch "pillars" plane through (0, 0, 0) normal (0, 0, 1) x (1, 0, 0)
  arc A0 (79.75, -21.495) -> (74.3929, -34.2439) centre (79.75, -28.995) ccw
  arc A1 (77.25, -41.2424) -> (74.3929, -34.2439) centre (67.25, -41.2424) ccw construction
  line L0 (77.25, -41.2424) -> (77.25, -73.7476) construction
  arc A2 (74.3929, -80.7461) -> (77.25, -73.7476) centre (67.25, -73.7476) ccw construction
  arc A3 (74.3929, -80.7461) -> (79.75, -93.495) centre (79.75, -85.995) ccw
  line L1 (79.75, -93.495) -> (110.75, -93.495) construction
  arc A4 (110.75, -93.495) -> (116.1071, -80.7461) centre (110.75, -85.995) ccw
  arc A5 (113.25, -73.7476) -> (116.1071, -80.7461) centre (123.25, -73.7476) ccw construction
  line L2 (113.25, -41.2424) -> (113.25, -73.7476) construction
  arc A6 (116.1071, -34.2439) -> (113.25, -41.2424) centre (123.25, -41.2424) ccw construction
  arc A7 (116.1071, -34.2439) -> (110.75, -21.495) centre (110.75, -28.995) ccw
  circle A8 centre (76.25, -27.495) radius 1.5 construction
  circle A9 centre (114.25, -27.495) radius 1.5 construction
  circle A10 centre (76.25, -27.495) radius 3 construction
  circle A11 centre (114.25, -27.495) radius 3 construction
  circle A12 centre (76.25, -87.495) radius 1.5 construction
  circle A13 centre (76.25, -87.495) radius 3 construction
  circle A14 centre (114.25, -87.495) radius 1.5 construction
  circle A15 centre (114.25, -87.495) radius 3 construction
  spline S0 degree 2 poles (79.75, -21.495) (79.75, -28.995) (74.3929, -34.2439) knots 0 0 0 1.458918 1.458918 1.458918 weights 1 4 1
  spline S1 degree 2 poles (110.75, -21.495) (110.75, -28.995) (116.1071, -34.2439) knots 0 0 0 1.458918 1.458918 1.458918 weights 1 4 1
  spline S2 degree 2 poles (74.3929, -80.7461) (79.75, -85.995) (79.75, -93.495) knots 0 0 0 1.458918 1.458918 1.458918 weights 1 4 1
  spline S3 degree 2 poles (110.75, -93.495) (110.75, -85.995) (116.1071, -80.7461) knots 0 0 0 1.458918 1.458918 1.458918 weights 1 4 1
  line L3 (79.75, -21.495) -> (89.25, -21.495)
sketch "srew_holes" plane through (0, 0, 0) normal (0, 0, 1) x (1, 0, 0)
  circle A0 centre (76.25, -27.495) radius 1.5
  circle A1 centre (114.25, -27.495) radius 1.5
  circle A2 centre (76.25, -87.495) radius 1.5
  circle A3 centre (114.25, -87.495) radius 1.5
  dimension "d250" = 3
  dimension "d251" = 60
  dimension "d252" = 38
extrude "Extrude5" add sketch "pillars" along normal blind 4 makes body 1 at (116.0352, -23.6737, 2.6667) makes body 2 at (118.1619, -87.1412, 2.6667) makes body 3 at (72.9424, -32.1424, 2.6667) makes body 4 at (72.403, -87.5019, 2.6667)
extrude "Extrude6" add sketch "board_cutout_4mm_offset" along normal blind 3.7 from surface at 4 separate body makes body 5
sketch "led_cutouts" plane through (0, 0, 0) normal (0, 0, 1) x (1, 0, 0)
  circle A0 centre (88.25, -25.495) radius 1.535
  circle A1 centre (88.25, -29.495) radius 1.535
  circle A2 centre (102.25, -25.495) radius 1.535
  circle A3 centre (102.25, -29.495) radius 1.535
  circle A4 centre (87.75, -62.495) radius 1.535
sketch "button_cutouts" plane through (0, 0, 0) normal (0, 0, 1) x (1, 0, 0)
  circle A0 centre (83.25, -26.495) radius 1.5 construction
  circle A1 centre (83.25, -34.995) radius 1.5 construction
  circle A2 centre (107.25, -26.495) radius 1.5 construction
  circle A3 centre (105.75, -89.495) radius 1.5 construction
  line L0 (105.43, -58.075) -> (107.93, -58.075)
  line L1 (105.43, -62.575) -> (105.43, -58.075)
  line L2 (107.93, -62.575) -> (105.43, -62.575)
  line L3 (107.93, -58.075) -> (107.93, -62.575)
  circle A4 centre (105.75, -89.495) radius 2.5
  dimension "d185" = 3
  dimension "d186" = 1
  dimension "d187" = 5
sketch "pinheader_cutouts" plane through (0, 0, 0) normal (0, 0, 1) x (1, 0, 0)
  line L0 (91.23, -84.882) -> (84.03, -84.882)
  line L1 (84.03, -84.882) -> (84.03, -64.882)
  line L2 (84.03, -64.882) -> (91.23, -64.882)
  line L3 (91.23, -64.882) -> (91.23, -84.882)
  line L4 (99.27, -64.882) -> (106.47, -64.882)
  line L5 (99.27, -84.882) -> (99.27, -64.882)
  line L6 (106.47, -84.882) -> (99.27, -84.882)
  line L7 (106.47, -64.882) -> (106.47, -84.882)
extrude "Extrude8" cut sketch "led_cutouts" along normal through all bodies 5
extrude "Extrude9" cut sketch "button_cutouts" along normal through all bodies 5
extrude "Extrude10" cut sketch "pinheader_cutouts" along normal through all bodies 5
sketch "screw_sinkholes" plane through (0, 0, 0) normal (0, 0, 1) x (1, 0, 0)
  circle A0 centre (76.25, -27.495) radius 1.5 construction
  circle A1 centre (114.25, -27.495) radius 1.5 construction
  circle A2 centre (76.25, -87.495) radius 1.5 construction
  circle A3 centre (114.25, -87.495) radius 1.5 construction
  circle A4 centre (76.25, -27.495) radius 3
  circle A5 centre (114.25, -27.495) radius 3
  circle A6 centre (76.25, -87.495) radius 3
  circle A7 centre (114.25, -87.495) radius 3
  dimension "d158" = 3
  dimension "d159" = 3
  dimension "d160" = 3
  dimension "d161" = 3
  dimension "d162" = 6
  dimension "d163" = 6
  dimension "d164" = 6
  dimension "d165" = 6
sketch "screw_holes_2.26mm" plane through (0, 0, 0) normal (0, 0, 1) x (1, 0, 0)
  circle A0 centre (76.25, -87.495) radius 1.5 construction
  circle A1 centre (114.25, -87.495) radius 1.5 construction
  circle A2 centre (114.25, -27.495) radius 1.5 construction
  circle A3 centre (76.25, -27.495) radius 1.5 construction
  circle A4 centre (76.25, -27.495) radius 1.13
  circle A5 centre (114.25, -27.495) radius 1.13
  circle A6 centre (76.25, -87.495) radius 1.13
  circle A7 centre (114.25, -87.495) radius 1.13
  dimension "d188" = 2.26
  dimension "d189" = 2.26
  dimension "d190" = 2.26
  dimension "d191" = 2.26
  dimension "d253" = 38
  dimension "d254" = 60
extrude "Extrude13" cut sketch "screw_holes_2.26mm" along normal blind 5 bodies 1 2 3 4 5
sketch "membrane_area" plane through (0, 0, 0) normal (0, 0, 1) x (1, 0, 0)
  arc A0 (79.75, -17.495) -> (71.5357, -37.0433) centre (79.75, -28.995) ccw construction
  line L0 (79.75, -17.495) -> (110.75, -17.495) construction
  arc A1 (118.9643, -37.0433) -> (110.75, -17.495) centre (110.75, -28.995) ccw construction
  arc A2 (118.9643, -37.0433) -> (117.25, -41.2424) centre (123.25, -41.2424) ccw construction
  line L1 (117.25, -41.2424) -> (117.25, -73.7476) construction
  arc A3 (117.25, -73.7476) -> (118.9643, -77.9467) centre (123.25, -73.7476) ccw construction
  arc A4 (110.75, -97.495) -> (118.9643, -77.9467) centre (110.75, -85.995) ccw construction
  line L2 (79.75, -97.495) -> (110.75, -97.495) construction
  arc A5 (71.5357, -77.9467) -> (79.75, -97.495) centre (79.75, -85.995) ccw construction
  arc A6 (71.5357, -77.9467) -> (73.25, -73.7476) centre (67.25, -73.7476) ccw construction
  line L3 (73.25, -41.2424) -> (73.25, -73.7476) construction
  arc A7 (73.25, -41.2424) -> (71.5357, -37.0433) centre (67.25, -41.2424) ccw construction
  arc A8 (114.25, -73.7476) -> (116.8214, -80.0462) centre (123.25, -73.7476) ccw
  arc A9 (110.75, -94.495) -> (116.8214, -80.0462) centre (110.75, -85.995) ccw
  line L4 (79.75, -94.495) -> (110.75, -94.495)
  arc A10 (73.6786, -80.0462) -> (79.75, -94.495) centre (79.75, -85.995) ccw
  arc A11 (73.6786, -80.0462) -> (76.25, -73.7476) centre (67.25, -73.7476) ccw
  line L5 (76.25, -41.2424) -> (76.25, -73.7476)
  arc A12 (76.25, -41.2424) -> (73.6786, -34.9438) centre (67.25, -41.2424) ccw
  arc A13 (79.75, -20.495) -> (73.6786, -34.9438) centre (79.75, -28.995) ccw
  line L6 (79.75, -20.495) -> (110.75, -20.495)
  arc A14 (116.8214, -34.9438) -> (110.75, -20.495) centre (110.75, -28.995) ccw
  arc A15 (116.8214, -34.9438) -> (114.25, -41.2424) centre (123.25, -41.2424) ccw
  line L7 (114.25, -41.2424) -> (114.25, -73.7476)
  dimension "d194" = 3
extrude "Extrude14" cut sketch "membrane_area" against normal blind 0.5 from surface at 7.7 bodies 5
fillet "Fillet1" radius 1.5 12 edges at (69.148, -90.45, 7.7) (95.25, -97.495, 7.7) (121.352, -90.45, 7.7) (117.6951, -76.0153, 7.7) (117.25, -57.495, 7.7) (117.6951, -38.9747, 7.7) (121.352, -24.54, 7.7) (95.25, -17.495, 7.7) (69.148, -24.54, 7.7) (72.8049, -38.9747, 7.7) (73.25, -57.495, 7.7) (72.8049, -76.0153, 7.7) on bodies 5
